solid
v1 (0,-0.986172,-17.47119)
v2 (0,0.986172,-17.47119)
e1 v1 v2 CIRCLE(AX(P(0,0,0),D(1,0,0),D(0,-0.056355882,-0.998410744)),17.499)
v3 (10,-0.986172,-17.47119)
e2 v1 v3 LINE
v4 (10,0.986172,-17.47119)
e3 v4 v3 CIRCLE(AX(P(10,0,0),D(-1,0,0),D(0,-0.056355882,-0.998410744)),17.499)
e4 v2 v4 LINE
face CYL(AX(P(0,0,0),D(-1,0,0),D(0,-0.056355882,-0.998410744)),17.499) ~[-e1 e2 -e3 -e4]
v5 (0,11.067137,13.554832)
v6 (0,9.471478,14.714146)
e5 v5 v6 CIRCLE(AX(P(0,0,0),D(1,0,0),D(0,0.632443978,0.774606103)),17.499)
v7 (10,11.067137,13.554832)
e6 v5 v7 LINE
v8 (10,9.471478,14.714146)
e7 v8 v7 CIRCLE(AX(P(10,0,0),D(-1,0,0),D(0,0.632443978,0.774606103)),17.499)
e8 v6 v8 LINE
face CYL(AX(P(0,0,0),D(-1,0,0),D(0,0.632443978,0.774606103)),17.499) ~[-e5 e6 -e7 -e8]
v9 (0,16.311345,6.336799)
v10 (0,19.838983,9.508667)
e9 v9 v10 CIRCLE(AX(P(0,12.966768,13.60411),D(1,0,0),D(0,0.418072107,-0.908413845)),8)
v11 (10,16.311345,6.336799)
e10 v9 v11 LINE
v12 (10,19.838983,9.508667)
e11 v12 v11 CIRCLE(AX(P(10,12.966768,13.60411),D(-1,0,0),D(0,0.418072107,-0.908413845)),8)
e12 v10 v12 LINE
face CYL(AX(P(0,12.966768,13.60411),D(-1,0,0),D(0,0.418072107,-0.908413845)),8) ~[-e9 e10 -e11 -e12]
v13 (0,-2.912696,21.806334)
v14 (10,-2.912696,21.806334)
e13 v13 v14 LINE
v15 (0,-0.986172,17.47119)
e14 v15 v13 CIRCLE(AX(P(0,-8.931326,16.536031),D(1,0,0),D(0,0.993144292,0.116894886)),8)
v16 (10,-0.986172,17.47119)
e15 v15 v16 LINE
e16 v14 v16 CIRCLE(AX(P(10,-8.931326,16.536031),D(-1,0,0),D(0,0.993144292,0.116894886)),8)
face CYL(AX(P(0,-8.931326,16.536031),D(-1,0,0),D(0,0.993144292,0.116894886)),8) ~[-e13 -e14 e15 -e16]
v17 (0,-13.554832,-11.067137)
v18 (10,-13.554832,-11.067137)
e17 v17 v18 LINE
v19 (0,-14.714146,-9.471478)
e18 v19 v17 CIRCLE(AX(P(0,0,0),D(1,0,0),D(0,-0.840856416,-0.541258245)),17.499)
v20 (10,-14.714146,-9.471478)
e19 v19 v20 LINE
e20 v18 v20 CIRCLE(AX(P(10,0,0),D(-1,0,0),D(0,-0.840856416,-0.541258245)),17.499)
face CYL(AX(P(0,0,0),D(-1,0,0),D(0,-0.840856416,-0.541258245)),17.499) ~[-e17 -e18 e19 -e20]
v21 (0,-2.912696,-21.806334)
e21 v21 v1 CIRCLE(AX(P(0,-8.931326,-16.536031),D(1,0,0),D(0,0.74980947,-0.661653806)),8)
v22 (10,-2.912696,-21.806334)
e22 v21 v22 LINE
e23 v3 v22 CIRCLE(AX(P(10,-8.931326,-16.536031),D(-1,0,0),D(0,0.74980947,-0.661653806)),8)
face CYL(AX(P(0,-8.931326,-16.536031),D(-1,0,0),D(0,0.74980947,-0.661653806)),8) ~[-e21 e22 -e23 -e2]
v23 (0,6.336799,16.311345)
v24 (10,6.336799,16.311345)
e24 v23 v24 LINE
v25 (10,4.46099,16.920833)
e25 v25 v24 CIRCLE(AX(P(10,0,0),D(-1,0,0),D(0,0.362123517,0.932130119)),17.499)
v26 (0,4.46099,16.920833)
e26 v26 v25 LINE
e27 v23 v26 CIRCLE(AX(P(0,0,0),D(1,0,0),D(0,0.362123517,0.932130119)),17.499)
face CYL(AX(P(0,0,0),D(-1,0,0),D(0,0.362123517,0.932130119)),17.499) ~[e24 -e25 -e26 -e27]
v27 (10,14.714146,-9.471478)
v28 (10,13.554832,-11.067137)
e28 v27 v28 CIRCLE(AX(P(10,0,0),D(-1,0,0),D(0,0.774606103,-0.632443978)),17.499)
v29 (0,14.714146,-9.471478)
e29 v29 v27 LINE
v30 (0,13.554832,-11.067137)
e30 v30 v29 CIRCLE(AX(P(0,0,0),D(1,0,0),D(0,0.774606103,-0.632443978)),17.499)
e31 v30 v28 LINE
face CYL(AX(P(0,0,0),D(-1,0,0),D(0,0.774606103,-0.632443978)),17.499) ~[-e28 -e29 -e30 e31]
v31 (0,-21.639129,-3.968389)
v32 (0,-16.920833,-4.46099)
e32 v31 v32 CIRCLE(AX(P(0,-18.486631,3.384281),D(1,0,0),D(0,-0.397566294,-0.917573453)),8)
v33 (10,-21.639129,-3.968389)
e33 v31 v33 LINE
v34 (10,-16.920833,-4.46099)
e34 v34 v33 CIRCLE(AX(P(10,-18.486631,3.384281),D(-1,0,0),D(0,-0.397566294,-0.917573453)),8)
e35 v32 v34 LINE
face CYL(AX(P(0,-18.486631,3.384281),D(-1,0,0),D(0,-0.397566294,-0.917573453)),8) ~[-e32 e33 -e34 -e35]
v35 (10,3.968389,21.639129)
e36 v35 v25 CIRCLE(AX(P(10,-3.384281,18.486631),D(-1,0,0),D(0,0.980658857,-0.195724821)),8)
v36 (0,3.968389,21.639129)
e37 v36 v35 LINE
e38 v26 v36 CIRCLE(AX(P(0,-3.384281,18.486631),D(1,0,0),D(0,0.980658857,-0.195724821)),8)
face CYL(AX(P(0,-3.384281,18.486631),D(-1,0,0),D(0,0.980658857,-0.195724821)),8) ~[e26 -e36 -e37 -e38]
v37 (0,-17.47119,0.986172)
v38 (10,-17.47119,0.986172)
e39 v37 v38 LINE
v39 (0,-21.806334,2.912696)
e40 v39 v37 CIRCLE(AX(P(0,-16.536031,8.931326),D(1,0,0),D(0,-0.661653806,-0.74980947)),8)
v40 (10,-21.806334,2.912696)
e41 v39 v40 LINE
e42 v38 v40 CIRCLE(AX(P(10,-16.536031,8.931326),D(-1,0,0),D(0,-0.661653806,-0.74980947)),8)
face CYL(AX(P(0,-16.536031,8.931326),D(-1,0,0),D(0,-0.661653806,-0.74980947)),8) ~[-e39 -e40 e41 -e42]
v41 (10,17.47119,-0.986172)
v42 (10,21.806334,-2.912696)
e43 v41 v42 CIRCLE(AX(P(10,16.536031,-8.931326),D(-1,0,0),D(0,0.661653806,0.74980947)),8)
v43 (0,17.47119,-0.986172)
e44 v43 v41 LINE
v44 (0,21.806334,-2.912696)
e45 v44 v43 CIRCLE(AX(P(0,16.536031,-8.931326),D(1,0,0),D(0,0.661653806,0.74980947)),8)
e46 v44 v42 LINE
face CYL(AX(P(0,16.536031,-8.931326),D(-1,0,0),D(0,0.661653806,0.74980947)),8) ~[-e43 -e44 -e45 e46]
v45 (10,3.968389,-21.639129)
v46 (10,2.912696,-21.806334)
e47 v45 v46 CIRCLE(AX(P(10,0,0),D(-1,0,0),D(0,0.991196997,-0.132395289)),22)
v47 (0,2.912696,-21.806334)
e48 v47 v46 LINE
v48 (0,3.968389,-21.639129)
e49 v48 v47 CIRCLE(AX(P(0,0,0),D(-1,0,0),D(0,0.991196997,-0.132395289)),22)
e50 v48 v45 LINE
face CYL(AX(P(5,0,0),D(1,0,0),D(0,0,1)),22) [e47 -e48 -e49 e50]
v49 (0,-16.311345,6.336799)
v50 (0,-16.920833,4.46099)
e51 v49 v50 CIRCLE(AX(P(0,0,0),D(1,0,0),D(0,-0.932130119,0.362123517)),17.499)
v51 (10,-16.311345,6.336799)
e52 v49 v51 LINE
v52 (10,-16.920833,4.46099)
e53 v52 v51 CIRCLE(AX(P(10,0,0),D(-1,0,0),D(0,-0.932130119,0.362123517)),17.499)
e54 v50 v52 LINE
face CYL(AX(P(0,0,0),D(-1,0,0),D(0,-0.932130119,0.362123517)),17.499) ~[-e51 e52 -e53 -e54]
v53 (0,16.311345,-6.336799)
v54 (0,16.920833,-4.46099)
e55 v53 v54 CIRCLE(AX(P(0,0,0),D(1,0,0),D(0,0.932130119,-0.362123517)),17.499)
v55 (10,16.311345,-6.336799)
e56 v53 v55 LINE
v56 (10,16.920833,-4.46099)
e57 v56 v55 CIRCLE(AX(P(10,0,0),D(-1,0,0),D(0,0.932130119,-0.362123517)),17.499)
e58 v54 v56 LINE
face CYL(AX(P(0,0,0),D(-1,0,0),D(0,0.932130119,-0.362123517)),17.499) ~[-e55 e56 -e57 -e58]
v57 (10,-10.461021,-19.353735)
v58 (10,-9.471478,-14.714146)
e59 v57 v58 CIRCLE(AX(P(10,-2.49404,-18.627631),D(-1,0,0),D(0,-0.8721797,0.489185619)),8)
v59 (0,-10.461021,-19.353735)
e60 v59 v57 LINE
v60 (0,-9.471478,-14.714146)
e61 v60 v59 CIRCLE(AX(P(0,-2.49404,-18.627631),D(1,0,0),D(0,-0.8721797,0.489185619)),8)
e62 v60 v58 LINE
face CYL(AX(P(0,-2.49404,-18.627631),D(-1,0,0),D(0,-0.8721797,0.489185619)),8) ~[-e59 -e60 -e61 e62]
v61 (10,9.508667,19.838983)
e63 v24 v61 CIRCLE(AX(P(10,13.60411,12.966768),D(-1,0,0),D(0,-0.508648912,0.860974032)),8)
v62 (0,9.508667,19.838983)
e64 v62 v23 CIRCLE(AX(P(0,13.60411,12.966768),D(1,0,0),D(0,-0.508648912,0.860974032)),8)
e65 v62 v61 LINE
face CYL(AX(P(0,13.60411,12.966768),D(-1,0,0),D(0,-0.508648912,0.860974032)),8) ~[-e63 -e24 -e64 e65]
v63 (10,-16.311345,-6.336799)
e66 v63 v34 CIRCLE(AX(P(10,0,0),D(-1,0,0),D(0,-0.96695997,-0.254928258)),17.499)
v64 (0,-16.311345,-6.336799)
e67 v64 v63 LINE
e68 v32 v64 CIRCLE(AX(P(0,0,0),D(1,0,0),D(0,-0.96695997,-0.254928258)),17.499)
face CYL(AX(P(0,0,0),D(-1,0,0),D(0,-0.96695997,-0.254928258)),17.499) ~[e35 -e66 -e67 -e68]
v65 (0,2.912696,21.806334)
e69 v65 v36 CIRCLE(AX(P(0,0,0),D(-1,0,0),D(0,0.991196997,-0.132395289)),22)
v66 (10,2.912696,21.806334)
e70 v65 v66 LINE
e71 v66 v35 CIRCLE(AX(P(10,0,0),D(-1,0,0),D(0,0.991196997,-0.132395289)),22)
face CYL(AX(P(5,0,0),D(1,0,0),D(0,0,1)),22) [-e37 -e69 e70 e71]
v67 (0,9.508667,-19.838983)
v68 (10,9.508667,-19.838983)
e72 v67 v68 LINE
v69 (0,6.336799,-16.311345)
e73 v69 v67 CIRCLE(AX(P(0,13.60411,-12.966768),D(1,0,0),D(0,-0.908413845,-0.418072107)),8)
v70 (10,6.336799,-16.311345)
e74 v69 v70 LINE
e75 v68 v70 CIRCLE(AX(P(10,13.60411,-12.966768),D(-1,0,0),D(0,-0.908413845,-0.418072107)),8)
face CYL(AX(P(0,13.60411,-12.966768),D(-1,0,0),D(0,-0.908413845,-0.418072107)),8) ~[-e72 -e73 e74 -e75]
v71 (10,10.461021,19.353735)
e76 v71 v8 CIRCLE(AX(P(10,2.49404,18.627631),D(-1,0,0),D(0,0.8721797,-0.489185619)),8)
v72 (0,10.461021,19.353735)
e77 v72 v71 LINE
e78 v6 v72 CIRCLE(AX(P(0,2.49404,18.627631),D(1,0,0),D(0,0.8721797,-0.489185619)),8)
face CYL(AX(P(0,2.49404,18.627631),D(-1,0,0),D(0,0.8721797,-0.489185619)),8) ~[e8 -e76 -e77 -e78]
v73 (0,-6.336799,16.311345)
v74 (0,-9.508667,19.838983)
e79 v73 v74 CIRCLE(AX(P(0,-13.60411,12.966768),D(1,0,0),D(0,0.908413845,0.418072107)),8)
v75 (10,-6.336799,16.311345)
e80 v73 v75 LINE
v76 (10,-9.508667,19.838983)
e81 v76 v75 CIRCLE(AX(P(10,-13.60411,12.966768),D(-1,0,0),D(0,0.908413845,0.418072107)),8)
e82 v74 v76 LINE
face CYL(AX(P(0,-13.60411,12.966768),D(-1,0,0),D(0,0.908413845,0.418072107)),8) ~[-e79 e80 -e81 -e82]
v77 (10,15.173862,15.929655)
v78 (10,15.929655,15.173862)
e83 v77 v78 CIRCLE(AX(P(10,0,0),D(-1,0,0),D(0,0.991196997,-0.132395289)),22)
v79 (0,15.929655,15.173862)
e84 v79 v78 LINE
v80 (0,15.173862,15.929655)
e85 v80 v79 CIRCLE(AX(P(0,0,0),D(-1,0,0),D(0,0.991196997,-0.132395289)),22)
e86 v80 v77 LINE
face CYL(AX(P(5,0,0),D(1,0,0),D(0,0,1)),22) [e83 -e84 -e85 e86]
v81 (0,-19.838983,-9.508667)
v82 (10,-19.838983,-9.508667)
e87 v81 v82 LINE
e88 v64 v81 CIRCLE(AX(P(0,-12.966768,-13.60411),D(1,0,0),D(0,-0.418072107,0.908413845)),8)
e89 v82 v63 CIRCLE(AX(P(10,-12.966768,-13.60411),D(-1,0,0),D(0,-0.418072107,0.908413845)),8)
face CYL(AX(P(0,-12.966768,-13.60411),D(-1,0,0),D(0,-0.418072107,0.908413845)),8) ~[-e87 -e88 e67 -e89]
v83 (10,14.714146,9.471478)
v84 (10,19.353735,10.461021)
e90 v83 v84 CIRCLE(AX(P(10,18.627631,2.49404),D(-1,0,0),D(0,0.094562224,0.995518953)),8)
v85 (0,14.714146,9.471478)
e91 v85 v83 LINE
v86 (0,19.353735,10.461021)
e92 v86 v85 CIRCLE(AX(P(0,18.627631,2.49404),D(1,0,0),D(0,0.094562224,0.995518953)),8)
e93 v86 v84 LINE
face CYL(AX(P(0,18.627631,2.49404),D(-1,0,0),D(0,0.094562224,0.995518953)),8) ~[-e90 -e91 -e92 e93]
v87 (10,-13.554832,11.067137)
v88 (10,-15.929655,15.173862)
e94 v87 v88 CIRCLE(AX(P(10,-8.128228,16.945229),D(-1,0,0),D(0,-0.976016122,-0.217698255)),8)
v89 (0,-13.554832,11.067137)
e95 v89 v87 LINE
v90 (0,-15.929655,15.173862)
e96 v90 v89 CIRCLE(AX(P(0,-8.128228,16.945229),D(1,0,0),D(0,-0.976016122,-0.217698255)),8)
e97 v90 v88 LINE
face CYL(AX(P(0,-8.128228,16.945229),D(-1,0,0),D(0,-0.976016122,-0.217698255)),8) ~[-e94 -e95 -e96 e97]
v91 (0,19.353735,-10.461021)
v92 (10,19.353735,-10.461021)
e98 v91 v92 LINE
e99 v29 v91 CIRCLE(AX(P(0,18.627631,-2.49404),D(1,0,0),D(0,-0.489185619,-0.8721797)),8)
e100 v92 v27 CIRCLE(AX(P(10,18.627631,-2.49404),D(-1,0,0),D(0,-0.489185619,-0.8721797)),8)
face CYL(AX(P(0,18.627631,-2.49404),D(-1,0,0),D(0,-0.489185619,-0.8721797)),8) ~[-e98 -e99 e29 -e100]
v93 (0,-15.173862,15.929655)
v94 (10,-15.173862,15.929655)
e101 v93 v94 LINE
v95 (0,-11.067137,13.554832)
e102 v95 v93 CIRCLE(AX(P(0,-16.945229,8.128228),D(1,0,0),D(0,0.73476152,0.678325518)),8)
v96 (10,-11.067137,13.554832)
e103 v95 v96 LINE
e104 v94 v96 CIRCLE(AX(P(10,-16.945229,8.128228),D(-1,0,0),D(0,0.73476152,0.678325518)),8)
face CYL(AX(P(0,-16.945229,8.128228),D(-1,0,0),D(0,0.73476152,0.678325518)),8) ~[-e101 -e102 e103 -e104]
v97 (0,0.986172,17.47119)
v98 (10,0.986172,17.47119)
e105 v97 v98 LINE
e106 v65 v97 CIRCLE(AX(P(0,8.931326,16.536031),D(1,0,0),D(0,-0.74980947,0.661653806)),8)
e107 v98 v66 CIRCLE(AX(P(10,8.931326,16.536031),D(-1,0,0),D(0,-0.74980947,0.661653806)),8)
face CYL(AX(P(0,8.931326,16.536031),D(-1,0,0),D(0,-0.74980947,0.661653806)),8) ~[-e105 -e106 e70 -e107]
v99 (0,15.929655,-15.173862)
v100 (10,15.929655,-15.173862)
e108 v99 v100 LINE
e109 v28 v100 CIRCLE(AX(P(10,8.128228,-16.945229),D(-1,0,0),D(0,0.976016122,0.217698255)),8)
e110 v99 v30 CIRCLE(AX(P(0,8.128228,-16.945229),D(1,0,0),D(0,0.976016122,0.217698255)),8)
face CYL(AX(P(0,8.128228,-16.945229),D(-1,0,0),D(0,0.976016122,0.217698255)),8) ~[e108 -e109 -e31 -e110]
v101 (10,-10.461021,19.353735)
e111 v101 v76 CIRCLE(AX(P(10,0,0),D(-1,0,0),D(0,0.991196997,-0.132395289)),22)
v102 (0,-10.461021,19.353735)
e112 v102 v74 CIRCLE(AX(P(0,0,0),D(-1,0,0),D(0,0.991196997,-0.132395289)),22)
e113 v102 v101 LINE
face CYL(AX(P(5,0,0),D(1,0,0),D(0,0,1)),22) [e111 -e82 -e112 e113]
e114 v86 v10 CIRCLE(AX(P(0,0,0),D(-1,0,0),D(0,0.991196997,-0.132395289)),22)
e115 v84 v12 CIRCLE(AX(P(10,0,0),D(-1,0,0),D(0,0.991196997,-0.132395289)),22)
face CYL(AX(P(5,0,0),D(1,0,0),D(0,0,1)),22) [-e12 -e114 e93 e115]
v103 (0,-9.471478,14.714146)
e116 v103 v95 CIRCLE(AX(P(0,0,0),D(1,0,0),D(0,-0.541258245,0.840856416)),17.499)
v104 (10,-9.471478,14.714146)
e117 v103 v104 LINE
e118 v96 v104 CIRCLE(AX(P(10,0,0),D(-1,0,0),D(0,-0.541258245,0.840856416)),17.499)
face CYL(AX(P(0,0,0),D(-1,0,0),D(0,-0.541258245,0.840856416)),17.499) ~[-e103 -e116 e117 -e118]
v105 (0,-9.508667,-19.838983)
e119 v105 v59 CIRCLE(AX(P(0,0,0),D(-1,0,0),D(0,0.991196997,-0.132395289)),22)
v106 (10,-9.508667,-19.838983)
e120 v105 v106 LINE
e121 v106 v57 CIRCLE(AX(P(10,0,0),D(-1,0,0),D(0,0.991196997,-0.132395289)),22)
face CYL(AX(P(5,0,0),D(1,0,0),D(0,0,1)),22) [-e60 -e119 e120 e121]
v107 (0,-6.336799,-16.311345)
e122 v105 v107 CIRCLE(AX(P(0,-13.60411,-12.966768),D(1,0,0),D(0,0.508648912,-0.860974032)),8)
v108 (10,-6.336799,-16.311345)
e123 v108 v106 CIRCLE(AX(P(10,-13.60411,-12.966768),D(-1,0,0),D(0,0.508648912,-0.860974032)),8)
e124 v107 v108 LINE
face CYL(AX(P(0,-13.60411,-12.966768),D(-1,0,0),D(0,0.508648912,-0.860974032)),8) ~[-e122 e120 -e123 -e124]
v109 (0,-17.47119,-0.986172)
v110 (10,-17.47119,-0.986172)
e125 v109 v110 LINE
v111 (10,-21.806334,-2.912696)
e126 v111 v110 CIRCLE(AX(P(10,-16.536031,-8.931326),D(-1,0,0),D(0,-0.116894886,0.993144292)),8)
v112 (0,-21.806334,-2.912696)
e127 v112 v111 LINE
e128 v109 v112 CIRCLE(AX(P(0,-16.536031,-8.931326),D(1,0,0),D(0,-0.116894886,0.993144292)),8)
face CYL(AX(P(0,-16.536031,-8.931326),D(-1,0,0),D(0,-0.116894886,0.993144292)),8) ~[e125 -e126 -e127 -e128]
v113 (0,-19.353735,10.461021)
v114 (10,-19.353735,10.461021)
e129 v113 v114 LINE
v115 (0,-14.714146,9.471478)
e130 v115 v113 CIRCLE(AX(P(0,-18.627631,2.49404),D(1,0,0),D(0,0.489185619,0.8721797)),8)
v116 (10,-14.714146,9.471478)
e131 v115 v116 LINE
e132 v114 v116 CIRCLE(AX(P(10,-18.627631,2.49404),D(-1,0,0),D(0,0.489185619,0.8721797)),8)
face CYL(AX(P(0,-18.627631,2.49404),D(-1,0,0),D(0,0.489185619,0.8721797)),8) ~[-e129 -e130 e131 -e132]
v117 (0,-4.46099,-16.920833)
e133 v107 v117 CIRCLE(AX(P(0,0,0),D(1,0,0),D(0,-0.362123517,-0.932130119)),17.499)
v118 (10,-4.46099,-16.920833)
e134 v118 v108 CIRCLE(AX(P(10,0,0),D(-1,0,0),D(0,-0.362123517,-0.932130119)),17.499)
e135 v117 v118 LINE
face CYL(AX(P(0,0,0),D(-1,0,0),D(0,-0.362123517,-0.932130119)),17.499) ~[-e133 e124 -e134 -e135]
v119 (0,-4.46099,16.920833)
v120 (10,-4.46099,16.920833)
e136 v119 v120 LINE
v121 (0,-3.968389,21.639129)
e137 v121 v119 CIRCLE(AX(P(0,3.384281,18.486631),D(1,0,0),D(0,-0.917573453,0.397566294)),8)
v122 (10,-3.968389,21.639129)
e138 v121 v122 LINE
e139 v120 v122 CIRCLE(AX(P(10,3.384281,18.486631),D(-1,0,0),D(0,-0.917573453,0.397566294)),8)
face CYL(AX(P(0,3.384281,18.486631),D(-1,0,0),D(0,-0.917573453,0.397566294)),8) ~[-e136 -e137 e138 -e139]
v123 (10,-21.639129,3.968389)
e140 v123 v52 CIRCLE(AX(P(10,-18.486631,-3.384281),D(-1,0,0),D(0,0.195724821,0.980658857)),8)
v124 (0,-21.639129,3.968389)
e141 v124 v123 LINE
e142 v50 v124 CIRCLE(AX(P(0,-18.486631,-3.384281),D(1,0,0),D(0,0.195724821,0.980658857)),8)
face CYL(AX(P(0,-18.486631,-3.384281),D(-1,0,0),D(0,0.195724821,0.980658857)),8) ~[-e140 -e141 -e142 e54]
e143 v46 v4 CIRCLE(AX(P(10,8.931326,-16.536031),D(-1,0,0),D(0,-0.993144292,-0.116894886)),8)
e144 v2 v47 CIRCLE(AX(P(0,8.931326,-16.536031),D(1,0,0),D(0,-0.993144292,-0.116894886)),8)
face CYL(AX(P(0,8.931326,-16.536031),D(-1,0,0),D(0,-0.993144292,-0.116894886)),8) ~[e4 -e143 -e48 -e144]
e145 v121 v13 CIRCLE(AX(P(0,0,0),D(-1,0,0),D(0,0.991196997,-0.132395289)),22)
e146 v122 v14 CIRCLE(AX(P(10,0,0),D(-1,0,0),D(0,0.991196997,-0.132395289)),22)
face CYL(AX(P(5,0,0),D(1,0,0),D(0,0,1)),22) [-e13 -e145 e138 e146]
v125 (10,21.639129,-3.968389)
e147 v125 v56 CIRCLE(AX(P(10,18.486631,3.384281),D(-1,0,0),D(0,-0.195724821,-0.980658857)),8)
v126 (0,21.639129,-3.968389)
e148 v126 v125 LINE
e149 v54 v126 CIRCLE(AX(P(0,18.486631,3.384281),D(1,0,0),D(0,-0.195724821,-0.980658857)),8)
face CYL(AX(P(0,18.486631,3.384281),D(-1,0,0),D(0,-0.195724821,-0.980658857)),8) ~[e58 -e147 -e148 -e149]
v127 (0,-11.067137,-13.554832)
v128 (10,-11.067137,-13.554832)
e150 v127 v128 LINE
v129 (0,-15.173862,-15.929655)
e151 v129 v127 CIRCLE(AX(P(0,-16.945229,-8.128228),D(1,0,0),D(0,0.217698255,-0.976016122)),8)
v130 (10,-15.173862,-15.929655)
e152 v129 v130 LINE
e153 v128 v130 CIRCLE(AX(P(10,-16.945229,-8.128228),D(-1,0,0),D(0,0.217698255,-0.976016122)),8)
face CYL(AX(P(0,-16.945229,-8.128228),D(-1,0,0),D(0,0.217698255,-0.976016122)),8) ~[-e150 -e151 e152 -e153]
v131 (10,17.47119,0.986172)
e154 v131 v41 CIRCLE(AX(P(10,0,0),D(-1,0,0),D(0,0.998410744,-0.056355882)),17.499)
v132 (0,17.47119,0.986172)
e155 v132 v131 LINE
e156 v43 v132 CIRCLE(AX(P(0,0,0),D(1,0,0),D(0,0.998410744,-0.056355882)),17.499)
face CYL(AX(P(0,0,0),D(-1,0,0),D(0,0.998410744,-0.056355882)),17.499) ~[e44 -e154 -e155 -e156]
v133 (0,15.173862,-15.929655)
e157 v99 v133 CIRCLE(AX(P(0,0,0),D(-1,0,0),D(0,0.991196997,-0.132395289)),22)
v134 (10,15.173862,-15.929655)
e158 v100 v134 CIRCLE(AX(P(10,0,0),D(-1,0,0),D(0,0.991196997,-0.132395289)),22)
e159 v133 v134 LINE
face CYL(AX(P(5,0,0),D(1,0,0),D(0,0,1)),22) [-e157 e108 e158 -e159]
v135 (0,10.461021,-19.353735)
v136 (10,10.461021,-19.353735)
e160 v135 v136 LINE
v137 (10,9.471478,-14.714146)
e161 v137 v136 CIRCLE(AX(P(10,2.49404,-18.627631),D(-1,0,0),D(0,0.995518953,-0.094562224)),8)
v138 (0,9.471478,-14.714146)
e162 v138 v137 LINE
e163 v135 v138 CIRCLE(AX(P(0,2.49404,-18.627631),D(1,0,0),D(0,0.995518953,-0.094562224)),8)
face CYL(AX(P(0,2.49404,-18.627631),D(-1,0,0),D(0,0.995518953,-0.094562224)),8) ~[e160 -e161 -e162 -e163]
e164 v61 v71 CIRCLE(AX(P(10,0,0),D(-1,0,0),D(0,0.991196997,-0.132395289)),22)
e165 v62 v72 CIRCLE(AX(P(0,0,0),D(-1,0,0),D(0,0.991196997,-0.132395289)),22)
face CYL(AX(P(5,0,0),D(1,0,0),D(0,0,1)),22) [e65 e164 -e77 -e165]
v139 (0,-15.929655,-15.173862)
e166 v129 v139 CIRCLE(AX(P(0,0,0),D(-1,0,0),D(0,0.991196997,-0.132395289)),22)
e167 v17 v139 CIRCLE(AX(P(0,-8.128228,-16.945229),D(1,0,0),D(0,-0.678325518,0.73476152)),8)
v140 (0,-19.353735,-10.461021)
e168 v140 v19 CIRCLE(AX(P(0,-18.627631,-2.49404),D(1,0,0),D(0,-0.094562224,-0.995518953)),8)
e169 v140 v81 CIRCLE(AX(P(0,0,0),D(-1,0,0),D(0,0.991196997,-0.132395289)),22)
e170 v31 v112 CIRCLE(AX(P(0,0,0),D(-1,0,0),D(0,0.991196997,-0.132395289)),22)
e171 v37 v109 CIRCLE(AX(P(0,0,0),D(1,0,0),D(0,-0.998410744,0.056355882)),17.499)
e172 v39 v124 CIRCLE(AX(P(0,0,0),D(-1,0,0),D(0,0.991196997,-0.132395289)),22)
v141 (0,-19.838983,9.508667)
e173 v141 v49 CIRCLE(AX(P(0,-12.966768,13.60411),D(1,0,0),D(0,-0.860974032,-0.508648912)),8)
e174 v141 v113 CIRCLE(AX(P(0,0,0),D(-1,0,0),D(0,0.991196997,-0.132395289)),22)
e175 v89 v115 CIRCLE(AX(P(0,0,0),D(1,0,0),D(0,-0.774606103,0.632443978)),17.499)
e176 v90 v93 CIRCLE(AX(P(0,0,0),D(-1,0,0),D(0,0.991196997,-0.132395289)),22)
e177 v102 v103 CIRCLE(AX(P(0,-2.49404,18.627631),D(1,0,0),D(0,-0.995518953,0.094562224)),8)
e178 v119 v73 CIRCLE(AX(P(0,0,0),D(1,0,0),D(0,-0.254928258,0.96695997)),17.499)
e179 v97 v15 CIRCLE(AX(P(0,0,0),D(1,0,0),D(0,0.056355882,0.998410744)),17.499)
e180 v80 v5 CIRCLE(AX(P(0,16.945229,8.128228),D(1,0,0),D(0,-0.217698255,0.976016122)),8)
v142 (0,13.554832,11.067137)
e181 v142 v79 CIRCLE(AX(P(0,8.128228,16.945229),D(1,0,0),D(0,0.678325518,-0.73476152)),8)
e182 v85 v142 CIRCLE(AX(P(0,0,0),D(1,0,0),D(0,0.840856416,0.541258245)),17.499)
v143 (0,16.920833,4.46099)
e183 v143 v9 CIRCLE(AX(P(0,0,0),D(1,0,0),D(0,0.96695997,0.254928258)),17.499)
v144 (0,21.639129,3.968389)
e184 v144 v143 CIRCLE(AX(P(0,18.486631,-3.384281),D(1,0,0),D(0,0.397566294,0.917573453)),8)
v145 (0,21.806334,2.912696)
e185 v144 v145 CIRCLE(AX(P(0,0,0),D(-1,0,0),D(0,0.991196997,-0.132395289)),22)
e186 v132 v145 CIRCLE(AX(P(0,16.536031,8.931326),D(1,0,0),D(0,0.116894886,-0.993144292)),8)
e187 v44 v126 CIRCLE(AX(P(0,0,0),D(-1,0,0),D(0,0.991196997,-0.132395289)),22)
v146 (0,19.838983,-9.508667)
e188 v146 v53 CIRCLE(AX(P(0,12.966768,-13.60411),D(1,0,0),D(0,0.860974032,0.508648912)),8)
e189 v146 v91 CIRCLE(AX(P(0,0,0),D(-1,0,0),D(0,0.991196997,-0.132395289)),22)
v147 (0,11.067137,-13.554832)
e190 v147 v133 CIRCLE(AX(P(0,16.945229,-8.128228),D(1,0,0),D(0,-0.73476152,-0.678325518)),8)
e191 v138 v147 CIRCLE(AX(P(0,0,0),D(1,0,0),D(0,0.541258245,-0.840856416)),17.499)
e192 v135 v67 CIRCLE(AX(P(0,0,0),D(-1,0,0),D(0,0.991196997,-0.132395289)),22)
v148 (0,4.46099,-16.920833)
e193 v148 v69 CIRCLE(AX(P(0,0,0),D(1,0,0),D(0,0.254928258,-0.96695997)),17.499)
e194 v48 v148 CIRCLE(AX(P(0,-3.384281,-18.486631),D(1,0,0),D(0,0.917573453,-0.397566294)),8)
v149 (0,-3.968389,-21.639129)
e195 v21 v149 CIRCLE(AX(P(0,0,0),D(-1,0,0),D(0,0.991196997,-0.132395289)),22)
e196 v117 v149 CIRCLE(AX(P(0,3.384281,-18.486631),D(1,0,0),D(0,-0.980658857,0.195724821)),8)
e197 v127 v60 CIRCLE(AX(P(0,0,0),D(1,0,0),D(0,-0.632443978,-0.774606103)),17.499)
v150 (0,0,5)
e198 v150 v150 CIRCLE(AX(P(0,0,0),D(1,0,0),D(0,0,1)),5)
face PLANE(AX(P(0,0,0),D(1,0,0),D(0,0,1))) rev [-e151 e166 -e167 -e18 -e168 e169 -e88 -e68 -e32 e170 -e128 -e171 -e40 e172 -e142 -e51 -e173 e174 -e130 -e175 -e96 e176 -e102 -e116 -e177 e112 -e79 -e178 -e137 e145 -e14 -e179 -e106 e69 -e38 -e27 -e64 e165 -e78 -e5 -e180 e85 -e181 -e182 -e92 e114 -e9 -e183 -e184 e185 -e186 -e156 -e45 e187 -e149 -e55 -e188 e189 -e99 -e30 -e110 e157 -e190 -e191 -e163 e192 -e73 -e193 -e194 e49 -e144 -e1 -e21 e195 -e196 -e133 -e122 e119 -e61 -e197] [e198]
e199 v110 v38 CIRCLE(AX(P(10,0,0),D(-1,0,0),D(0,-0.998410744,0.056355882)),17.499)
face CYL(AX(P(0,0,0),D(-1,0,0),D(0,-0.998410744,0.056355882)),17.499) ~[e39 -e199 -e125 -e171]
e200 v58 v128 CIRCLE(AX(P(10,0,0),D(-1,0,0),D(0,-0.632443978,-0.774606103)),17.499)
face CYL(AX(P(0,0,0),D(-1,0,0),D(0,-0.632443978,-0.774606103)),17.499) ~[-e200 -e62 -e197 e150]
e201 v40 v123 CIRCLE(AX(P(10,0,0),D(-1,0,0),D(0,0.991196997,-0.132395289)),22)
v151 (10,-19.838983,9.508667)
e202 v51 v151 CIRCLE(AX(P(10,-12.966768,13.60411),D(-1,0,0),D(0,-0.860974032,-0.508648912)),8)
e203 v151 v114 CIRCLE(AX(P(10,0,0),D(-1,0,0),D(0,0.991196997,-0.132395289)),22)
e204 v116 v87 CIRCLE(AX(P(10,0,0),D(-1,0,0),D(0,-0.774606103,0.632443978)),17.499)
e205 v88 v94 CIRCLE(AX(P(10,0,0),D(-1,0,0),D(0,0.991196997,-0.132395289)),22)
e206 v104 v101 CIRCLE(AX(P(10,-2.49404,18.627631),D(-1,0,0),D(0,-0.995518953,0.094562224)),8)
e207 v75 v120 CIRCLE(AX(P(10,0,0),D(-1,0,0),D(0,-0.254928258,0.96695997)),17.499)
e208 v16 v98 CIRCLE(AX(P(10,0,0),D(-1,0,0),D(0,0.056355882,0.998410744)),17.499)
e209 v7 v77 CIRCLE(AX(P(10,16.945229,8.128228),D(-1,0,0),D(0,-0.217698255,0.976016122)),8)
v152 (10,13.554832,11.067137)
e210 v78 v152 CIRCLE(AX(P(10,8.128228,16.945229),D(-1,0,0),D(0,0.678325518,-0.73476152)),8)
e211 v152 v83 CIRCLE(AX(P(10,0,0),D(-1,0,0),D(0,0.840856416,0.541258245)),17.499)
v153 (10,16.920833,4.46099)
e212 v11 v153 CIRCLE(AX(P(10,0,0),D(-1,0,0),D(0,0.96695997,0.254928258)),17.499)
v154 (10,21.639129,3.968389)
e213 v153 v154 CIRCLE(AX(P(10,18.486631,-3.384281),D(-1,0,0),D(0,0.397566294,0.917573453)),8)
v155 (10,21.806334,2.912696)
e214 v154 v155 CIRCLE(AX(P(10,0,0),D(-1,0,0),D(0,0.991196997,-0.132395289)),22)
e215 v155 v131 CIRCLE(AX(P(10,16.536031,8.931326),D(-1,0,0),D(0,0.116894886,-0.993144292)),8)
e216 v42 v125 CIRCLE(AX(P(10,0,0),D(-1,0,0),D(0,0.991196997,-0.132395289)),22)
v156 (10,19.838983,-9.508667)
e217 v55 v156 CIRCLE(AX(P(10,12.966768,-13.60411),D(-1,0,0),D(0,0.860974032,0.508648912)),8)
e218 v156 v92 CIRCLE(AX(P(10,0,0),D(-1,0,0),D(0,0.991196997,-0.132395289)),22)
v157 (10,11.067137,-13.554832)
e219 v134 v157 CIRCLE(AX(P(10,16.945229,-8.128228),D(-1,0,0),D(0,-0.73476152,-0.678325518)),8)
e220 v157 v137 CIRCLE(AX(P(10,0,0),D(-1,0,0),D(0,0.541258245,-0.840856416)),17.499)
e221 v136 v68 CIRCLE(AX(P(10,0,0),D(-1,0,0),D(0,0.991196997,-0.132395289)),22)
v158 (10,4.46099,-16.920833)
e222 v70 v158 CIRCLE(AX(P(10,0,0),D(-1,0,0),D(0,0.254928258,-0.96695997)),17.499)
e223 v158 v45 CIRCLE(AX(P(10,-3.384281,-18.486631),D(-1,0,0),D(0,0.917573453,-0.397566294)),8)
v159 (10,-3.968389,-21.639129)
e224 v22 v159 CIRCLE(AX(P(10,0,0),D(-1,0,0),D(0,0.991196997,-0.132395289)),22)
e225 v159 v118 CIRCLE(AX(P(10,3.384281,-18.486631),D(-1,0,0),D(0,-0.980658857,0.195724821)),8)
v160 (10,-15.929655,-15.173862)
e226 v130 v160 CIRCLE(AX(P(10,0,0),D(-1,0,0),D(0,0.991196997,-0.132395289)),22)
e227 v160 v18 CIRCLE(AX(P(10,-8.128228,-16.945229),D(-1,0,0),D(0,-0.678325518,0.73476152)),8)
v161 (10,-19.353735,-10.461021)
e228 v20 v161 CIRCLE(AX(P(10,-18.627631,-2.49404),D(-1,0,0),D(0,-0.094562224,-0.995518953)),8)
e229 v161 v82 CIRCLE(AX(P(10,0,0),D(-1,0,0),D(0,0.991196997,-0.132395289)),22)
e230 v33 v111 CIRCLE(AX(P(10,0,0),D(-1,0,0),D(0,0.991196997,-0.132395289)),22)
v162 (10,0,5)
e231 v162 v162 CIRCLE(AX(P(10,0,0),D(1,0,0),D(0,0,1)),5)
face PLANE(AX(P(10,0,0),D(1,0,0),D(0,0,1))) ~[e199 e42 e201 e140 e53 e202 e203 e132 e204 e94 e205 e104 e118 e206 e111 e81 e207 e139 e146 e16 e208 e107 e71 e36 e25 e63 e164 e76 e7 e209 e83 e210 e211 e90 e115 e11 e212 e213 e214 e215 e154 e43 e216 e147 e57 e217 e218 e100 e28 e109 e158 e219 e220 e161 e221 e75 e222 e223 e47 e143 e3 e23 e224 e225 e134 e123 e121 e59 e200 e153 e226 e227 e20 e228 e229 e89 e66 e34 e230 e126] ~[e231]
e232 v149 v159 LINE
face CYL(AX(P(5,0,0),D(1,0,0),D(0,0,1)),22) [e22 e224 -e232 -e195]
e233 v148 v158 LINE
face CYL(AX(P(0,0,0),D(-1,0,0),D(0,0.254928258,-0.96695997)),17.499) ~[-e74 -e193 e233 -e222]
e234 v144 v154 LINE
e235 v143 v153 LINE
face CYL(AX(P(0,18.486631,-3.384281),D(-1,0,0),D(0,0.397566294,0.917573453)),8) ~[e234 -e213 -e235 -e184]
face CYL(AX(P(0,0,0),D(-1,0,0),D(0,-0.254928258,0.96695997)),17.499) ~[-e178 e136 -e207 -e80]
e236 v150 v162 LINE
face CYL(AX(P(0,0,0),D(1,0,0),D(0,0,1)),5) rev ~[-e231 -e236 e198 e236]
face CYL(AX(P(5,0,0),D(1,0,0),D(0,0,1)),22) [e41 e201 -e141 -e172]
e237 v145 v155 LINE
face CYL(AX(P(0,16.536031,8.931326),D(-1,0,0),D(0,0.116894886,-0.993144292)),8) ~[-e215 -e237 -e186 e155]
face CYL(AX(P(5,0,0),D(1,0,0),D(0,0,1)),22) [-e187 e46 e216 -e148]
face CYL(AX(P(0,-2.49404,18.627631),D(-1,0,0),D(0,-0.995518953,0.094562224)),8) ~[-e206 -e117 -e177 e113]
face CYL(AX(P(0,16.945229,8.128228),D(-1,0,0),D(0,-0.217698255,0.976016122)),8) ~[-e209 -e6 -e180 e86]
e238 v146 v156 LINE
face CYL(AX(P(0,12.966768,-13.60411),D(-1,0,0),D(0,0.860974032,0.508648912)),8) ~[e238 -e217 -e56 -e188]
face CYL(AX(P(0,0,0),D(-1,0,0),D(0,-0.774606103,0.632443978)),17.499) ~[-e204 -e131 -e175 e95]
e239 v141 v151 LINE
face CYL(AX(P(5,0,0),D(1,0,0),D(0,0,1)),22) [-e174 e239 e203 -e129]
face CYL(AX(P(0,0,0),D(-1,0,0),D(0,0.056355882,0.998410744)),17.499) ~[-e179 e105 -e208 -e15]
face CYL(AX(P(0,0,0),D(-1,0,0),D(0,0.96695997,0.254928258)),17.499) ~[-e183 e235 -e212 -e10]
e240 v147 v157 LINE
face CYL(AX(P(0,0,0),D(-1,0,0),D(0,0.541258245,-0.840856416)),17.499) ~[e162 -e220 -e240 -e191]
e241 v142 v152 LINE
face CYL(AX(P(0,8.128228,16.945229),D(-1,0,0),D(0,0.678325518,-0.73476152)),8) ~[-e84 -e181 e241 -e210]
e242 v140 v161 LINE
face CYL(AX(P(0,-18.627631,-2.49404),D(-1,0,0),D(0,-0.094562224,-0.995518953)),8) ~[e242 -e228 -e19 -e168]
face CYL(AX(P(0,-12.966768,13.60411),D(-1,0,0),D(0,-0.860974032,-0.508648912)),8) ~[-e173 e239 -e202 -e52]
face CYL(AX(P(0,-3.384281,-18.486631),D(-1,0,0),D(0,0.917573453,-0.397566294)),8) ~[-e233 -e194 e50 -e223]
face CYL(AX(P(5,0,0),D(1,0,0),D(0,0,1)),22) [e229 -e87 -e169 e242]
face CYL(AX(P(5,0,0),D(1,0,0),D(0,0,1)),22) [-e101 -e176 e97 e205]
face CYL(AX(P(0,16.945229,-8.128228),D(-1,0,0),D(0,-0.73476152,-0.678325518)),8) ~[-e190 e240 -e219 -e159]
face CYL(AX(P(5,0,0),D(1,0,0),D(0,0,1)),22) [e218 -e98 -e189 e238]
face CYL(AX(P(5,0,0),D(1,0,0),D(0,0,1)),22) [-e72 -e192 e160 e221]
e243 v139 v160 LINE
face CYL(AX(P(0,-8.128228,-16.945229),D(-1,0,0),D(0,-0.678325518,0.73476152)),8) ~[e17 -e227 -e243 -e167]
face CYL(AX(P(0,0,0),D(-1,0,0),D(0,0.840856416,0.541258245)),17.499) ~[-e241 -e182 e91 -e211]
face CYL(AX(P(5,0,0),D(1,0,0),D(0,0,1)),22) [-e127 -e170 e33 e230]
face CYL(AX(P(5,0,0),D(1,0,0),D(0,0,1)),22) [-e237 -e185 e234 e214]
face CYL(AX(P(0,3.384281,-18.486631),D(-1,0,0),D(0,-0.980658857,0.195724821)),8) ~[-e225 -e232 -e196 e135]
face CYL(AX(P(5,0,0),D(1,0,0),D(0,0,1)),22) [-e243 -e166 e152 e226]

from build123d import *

# Parameters (mm, degrees)
BASPROSKE_W     = 10
BASPROSKE_H     = 22
TOOTHCUT_DEPTH  = 33.680269277
TEETHCUTS_COUNT = 20
TEETHCUTS_ANGLE = 342
BORSKE_R        = 5
BORE_DEPTH      = 50.0000508


with BuildPart() as part:
    # BasProSke → Base-Revolve (revolve)
    with BuildSketch(Plane(origin=(0, 0, 0), x_dir=(1, 0, 0), z_dir=(0, 1, 0)), mode=Mode.PRIVATE) as base_revolve_sk:
        with Locations((5, 11)):
            Rectangle(BASPROSKE_W, BASPROSKE_H)
    revolve(base_revolve_sk.sketch.rotate(Axis((-10, 0, 0), (1, 0, 0)), 180), axis=Axis((-10, 0, 0), (1, 0, 0)))

    # TooCutSke → ToothCut (cut, through all)
    with BuildSketch(Plane(origin=(0, 0, 0), x_dir=(0, 0, -1), z_dir=(1, 0, 0))):
        with BuildLine():
            ThreePointArc((0.986171591, 17.471189616), (0, 17.499), (-0.986171591, 17.471189616))
            ThreePointArc((-0.986171591, 17.471189616), (-1.626916196, 19.798789858), (-2.932850173, 21.829260982))
            ThreePointArc((-2.932850173, 21.829260982), (0, 22.0254), (2.932850173, 21.829260982))
            ThreePointArc((2.932850173, 21.829260982), (1.626916196, 19.798789858), (0.986171591, 17.471189616))
        make_face()
    toothcut = extrude(amount=TOOTHCUT_DEPTH, mode=Mode.SUBTRACT)

    # TeethCuts: ToothCut ×20 about axis
    teethcuts_axis = Axis((-10, 0, 0), (1, 0, 0))
    for i in range(1, TEETHCUTS_COUNT):
        add(toothcut.rotate(teethcuts_axis, i * TEETHCUTS_ANGLE / (TEETHCUTS_COUNT - 1)), mode=Mode.SUBTRACT)

    # BorSke → Bore (cut, symmetric)
    with BuildSketch(Plane(origin=(0, 0, 0), x_dir=(0, 0, -1), z_dir=(1, 0, 0))):
        with Locations(Location((0, 0, 0), (0, 0, 180))):
            Circle(BORSKE_R)
    extrude(amount=BORE_DEPTH, both=True, mode=Mode.SUBTRACT)


solid = part.part
